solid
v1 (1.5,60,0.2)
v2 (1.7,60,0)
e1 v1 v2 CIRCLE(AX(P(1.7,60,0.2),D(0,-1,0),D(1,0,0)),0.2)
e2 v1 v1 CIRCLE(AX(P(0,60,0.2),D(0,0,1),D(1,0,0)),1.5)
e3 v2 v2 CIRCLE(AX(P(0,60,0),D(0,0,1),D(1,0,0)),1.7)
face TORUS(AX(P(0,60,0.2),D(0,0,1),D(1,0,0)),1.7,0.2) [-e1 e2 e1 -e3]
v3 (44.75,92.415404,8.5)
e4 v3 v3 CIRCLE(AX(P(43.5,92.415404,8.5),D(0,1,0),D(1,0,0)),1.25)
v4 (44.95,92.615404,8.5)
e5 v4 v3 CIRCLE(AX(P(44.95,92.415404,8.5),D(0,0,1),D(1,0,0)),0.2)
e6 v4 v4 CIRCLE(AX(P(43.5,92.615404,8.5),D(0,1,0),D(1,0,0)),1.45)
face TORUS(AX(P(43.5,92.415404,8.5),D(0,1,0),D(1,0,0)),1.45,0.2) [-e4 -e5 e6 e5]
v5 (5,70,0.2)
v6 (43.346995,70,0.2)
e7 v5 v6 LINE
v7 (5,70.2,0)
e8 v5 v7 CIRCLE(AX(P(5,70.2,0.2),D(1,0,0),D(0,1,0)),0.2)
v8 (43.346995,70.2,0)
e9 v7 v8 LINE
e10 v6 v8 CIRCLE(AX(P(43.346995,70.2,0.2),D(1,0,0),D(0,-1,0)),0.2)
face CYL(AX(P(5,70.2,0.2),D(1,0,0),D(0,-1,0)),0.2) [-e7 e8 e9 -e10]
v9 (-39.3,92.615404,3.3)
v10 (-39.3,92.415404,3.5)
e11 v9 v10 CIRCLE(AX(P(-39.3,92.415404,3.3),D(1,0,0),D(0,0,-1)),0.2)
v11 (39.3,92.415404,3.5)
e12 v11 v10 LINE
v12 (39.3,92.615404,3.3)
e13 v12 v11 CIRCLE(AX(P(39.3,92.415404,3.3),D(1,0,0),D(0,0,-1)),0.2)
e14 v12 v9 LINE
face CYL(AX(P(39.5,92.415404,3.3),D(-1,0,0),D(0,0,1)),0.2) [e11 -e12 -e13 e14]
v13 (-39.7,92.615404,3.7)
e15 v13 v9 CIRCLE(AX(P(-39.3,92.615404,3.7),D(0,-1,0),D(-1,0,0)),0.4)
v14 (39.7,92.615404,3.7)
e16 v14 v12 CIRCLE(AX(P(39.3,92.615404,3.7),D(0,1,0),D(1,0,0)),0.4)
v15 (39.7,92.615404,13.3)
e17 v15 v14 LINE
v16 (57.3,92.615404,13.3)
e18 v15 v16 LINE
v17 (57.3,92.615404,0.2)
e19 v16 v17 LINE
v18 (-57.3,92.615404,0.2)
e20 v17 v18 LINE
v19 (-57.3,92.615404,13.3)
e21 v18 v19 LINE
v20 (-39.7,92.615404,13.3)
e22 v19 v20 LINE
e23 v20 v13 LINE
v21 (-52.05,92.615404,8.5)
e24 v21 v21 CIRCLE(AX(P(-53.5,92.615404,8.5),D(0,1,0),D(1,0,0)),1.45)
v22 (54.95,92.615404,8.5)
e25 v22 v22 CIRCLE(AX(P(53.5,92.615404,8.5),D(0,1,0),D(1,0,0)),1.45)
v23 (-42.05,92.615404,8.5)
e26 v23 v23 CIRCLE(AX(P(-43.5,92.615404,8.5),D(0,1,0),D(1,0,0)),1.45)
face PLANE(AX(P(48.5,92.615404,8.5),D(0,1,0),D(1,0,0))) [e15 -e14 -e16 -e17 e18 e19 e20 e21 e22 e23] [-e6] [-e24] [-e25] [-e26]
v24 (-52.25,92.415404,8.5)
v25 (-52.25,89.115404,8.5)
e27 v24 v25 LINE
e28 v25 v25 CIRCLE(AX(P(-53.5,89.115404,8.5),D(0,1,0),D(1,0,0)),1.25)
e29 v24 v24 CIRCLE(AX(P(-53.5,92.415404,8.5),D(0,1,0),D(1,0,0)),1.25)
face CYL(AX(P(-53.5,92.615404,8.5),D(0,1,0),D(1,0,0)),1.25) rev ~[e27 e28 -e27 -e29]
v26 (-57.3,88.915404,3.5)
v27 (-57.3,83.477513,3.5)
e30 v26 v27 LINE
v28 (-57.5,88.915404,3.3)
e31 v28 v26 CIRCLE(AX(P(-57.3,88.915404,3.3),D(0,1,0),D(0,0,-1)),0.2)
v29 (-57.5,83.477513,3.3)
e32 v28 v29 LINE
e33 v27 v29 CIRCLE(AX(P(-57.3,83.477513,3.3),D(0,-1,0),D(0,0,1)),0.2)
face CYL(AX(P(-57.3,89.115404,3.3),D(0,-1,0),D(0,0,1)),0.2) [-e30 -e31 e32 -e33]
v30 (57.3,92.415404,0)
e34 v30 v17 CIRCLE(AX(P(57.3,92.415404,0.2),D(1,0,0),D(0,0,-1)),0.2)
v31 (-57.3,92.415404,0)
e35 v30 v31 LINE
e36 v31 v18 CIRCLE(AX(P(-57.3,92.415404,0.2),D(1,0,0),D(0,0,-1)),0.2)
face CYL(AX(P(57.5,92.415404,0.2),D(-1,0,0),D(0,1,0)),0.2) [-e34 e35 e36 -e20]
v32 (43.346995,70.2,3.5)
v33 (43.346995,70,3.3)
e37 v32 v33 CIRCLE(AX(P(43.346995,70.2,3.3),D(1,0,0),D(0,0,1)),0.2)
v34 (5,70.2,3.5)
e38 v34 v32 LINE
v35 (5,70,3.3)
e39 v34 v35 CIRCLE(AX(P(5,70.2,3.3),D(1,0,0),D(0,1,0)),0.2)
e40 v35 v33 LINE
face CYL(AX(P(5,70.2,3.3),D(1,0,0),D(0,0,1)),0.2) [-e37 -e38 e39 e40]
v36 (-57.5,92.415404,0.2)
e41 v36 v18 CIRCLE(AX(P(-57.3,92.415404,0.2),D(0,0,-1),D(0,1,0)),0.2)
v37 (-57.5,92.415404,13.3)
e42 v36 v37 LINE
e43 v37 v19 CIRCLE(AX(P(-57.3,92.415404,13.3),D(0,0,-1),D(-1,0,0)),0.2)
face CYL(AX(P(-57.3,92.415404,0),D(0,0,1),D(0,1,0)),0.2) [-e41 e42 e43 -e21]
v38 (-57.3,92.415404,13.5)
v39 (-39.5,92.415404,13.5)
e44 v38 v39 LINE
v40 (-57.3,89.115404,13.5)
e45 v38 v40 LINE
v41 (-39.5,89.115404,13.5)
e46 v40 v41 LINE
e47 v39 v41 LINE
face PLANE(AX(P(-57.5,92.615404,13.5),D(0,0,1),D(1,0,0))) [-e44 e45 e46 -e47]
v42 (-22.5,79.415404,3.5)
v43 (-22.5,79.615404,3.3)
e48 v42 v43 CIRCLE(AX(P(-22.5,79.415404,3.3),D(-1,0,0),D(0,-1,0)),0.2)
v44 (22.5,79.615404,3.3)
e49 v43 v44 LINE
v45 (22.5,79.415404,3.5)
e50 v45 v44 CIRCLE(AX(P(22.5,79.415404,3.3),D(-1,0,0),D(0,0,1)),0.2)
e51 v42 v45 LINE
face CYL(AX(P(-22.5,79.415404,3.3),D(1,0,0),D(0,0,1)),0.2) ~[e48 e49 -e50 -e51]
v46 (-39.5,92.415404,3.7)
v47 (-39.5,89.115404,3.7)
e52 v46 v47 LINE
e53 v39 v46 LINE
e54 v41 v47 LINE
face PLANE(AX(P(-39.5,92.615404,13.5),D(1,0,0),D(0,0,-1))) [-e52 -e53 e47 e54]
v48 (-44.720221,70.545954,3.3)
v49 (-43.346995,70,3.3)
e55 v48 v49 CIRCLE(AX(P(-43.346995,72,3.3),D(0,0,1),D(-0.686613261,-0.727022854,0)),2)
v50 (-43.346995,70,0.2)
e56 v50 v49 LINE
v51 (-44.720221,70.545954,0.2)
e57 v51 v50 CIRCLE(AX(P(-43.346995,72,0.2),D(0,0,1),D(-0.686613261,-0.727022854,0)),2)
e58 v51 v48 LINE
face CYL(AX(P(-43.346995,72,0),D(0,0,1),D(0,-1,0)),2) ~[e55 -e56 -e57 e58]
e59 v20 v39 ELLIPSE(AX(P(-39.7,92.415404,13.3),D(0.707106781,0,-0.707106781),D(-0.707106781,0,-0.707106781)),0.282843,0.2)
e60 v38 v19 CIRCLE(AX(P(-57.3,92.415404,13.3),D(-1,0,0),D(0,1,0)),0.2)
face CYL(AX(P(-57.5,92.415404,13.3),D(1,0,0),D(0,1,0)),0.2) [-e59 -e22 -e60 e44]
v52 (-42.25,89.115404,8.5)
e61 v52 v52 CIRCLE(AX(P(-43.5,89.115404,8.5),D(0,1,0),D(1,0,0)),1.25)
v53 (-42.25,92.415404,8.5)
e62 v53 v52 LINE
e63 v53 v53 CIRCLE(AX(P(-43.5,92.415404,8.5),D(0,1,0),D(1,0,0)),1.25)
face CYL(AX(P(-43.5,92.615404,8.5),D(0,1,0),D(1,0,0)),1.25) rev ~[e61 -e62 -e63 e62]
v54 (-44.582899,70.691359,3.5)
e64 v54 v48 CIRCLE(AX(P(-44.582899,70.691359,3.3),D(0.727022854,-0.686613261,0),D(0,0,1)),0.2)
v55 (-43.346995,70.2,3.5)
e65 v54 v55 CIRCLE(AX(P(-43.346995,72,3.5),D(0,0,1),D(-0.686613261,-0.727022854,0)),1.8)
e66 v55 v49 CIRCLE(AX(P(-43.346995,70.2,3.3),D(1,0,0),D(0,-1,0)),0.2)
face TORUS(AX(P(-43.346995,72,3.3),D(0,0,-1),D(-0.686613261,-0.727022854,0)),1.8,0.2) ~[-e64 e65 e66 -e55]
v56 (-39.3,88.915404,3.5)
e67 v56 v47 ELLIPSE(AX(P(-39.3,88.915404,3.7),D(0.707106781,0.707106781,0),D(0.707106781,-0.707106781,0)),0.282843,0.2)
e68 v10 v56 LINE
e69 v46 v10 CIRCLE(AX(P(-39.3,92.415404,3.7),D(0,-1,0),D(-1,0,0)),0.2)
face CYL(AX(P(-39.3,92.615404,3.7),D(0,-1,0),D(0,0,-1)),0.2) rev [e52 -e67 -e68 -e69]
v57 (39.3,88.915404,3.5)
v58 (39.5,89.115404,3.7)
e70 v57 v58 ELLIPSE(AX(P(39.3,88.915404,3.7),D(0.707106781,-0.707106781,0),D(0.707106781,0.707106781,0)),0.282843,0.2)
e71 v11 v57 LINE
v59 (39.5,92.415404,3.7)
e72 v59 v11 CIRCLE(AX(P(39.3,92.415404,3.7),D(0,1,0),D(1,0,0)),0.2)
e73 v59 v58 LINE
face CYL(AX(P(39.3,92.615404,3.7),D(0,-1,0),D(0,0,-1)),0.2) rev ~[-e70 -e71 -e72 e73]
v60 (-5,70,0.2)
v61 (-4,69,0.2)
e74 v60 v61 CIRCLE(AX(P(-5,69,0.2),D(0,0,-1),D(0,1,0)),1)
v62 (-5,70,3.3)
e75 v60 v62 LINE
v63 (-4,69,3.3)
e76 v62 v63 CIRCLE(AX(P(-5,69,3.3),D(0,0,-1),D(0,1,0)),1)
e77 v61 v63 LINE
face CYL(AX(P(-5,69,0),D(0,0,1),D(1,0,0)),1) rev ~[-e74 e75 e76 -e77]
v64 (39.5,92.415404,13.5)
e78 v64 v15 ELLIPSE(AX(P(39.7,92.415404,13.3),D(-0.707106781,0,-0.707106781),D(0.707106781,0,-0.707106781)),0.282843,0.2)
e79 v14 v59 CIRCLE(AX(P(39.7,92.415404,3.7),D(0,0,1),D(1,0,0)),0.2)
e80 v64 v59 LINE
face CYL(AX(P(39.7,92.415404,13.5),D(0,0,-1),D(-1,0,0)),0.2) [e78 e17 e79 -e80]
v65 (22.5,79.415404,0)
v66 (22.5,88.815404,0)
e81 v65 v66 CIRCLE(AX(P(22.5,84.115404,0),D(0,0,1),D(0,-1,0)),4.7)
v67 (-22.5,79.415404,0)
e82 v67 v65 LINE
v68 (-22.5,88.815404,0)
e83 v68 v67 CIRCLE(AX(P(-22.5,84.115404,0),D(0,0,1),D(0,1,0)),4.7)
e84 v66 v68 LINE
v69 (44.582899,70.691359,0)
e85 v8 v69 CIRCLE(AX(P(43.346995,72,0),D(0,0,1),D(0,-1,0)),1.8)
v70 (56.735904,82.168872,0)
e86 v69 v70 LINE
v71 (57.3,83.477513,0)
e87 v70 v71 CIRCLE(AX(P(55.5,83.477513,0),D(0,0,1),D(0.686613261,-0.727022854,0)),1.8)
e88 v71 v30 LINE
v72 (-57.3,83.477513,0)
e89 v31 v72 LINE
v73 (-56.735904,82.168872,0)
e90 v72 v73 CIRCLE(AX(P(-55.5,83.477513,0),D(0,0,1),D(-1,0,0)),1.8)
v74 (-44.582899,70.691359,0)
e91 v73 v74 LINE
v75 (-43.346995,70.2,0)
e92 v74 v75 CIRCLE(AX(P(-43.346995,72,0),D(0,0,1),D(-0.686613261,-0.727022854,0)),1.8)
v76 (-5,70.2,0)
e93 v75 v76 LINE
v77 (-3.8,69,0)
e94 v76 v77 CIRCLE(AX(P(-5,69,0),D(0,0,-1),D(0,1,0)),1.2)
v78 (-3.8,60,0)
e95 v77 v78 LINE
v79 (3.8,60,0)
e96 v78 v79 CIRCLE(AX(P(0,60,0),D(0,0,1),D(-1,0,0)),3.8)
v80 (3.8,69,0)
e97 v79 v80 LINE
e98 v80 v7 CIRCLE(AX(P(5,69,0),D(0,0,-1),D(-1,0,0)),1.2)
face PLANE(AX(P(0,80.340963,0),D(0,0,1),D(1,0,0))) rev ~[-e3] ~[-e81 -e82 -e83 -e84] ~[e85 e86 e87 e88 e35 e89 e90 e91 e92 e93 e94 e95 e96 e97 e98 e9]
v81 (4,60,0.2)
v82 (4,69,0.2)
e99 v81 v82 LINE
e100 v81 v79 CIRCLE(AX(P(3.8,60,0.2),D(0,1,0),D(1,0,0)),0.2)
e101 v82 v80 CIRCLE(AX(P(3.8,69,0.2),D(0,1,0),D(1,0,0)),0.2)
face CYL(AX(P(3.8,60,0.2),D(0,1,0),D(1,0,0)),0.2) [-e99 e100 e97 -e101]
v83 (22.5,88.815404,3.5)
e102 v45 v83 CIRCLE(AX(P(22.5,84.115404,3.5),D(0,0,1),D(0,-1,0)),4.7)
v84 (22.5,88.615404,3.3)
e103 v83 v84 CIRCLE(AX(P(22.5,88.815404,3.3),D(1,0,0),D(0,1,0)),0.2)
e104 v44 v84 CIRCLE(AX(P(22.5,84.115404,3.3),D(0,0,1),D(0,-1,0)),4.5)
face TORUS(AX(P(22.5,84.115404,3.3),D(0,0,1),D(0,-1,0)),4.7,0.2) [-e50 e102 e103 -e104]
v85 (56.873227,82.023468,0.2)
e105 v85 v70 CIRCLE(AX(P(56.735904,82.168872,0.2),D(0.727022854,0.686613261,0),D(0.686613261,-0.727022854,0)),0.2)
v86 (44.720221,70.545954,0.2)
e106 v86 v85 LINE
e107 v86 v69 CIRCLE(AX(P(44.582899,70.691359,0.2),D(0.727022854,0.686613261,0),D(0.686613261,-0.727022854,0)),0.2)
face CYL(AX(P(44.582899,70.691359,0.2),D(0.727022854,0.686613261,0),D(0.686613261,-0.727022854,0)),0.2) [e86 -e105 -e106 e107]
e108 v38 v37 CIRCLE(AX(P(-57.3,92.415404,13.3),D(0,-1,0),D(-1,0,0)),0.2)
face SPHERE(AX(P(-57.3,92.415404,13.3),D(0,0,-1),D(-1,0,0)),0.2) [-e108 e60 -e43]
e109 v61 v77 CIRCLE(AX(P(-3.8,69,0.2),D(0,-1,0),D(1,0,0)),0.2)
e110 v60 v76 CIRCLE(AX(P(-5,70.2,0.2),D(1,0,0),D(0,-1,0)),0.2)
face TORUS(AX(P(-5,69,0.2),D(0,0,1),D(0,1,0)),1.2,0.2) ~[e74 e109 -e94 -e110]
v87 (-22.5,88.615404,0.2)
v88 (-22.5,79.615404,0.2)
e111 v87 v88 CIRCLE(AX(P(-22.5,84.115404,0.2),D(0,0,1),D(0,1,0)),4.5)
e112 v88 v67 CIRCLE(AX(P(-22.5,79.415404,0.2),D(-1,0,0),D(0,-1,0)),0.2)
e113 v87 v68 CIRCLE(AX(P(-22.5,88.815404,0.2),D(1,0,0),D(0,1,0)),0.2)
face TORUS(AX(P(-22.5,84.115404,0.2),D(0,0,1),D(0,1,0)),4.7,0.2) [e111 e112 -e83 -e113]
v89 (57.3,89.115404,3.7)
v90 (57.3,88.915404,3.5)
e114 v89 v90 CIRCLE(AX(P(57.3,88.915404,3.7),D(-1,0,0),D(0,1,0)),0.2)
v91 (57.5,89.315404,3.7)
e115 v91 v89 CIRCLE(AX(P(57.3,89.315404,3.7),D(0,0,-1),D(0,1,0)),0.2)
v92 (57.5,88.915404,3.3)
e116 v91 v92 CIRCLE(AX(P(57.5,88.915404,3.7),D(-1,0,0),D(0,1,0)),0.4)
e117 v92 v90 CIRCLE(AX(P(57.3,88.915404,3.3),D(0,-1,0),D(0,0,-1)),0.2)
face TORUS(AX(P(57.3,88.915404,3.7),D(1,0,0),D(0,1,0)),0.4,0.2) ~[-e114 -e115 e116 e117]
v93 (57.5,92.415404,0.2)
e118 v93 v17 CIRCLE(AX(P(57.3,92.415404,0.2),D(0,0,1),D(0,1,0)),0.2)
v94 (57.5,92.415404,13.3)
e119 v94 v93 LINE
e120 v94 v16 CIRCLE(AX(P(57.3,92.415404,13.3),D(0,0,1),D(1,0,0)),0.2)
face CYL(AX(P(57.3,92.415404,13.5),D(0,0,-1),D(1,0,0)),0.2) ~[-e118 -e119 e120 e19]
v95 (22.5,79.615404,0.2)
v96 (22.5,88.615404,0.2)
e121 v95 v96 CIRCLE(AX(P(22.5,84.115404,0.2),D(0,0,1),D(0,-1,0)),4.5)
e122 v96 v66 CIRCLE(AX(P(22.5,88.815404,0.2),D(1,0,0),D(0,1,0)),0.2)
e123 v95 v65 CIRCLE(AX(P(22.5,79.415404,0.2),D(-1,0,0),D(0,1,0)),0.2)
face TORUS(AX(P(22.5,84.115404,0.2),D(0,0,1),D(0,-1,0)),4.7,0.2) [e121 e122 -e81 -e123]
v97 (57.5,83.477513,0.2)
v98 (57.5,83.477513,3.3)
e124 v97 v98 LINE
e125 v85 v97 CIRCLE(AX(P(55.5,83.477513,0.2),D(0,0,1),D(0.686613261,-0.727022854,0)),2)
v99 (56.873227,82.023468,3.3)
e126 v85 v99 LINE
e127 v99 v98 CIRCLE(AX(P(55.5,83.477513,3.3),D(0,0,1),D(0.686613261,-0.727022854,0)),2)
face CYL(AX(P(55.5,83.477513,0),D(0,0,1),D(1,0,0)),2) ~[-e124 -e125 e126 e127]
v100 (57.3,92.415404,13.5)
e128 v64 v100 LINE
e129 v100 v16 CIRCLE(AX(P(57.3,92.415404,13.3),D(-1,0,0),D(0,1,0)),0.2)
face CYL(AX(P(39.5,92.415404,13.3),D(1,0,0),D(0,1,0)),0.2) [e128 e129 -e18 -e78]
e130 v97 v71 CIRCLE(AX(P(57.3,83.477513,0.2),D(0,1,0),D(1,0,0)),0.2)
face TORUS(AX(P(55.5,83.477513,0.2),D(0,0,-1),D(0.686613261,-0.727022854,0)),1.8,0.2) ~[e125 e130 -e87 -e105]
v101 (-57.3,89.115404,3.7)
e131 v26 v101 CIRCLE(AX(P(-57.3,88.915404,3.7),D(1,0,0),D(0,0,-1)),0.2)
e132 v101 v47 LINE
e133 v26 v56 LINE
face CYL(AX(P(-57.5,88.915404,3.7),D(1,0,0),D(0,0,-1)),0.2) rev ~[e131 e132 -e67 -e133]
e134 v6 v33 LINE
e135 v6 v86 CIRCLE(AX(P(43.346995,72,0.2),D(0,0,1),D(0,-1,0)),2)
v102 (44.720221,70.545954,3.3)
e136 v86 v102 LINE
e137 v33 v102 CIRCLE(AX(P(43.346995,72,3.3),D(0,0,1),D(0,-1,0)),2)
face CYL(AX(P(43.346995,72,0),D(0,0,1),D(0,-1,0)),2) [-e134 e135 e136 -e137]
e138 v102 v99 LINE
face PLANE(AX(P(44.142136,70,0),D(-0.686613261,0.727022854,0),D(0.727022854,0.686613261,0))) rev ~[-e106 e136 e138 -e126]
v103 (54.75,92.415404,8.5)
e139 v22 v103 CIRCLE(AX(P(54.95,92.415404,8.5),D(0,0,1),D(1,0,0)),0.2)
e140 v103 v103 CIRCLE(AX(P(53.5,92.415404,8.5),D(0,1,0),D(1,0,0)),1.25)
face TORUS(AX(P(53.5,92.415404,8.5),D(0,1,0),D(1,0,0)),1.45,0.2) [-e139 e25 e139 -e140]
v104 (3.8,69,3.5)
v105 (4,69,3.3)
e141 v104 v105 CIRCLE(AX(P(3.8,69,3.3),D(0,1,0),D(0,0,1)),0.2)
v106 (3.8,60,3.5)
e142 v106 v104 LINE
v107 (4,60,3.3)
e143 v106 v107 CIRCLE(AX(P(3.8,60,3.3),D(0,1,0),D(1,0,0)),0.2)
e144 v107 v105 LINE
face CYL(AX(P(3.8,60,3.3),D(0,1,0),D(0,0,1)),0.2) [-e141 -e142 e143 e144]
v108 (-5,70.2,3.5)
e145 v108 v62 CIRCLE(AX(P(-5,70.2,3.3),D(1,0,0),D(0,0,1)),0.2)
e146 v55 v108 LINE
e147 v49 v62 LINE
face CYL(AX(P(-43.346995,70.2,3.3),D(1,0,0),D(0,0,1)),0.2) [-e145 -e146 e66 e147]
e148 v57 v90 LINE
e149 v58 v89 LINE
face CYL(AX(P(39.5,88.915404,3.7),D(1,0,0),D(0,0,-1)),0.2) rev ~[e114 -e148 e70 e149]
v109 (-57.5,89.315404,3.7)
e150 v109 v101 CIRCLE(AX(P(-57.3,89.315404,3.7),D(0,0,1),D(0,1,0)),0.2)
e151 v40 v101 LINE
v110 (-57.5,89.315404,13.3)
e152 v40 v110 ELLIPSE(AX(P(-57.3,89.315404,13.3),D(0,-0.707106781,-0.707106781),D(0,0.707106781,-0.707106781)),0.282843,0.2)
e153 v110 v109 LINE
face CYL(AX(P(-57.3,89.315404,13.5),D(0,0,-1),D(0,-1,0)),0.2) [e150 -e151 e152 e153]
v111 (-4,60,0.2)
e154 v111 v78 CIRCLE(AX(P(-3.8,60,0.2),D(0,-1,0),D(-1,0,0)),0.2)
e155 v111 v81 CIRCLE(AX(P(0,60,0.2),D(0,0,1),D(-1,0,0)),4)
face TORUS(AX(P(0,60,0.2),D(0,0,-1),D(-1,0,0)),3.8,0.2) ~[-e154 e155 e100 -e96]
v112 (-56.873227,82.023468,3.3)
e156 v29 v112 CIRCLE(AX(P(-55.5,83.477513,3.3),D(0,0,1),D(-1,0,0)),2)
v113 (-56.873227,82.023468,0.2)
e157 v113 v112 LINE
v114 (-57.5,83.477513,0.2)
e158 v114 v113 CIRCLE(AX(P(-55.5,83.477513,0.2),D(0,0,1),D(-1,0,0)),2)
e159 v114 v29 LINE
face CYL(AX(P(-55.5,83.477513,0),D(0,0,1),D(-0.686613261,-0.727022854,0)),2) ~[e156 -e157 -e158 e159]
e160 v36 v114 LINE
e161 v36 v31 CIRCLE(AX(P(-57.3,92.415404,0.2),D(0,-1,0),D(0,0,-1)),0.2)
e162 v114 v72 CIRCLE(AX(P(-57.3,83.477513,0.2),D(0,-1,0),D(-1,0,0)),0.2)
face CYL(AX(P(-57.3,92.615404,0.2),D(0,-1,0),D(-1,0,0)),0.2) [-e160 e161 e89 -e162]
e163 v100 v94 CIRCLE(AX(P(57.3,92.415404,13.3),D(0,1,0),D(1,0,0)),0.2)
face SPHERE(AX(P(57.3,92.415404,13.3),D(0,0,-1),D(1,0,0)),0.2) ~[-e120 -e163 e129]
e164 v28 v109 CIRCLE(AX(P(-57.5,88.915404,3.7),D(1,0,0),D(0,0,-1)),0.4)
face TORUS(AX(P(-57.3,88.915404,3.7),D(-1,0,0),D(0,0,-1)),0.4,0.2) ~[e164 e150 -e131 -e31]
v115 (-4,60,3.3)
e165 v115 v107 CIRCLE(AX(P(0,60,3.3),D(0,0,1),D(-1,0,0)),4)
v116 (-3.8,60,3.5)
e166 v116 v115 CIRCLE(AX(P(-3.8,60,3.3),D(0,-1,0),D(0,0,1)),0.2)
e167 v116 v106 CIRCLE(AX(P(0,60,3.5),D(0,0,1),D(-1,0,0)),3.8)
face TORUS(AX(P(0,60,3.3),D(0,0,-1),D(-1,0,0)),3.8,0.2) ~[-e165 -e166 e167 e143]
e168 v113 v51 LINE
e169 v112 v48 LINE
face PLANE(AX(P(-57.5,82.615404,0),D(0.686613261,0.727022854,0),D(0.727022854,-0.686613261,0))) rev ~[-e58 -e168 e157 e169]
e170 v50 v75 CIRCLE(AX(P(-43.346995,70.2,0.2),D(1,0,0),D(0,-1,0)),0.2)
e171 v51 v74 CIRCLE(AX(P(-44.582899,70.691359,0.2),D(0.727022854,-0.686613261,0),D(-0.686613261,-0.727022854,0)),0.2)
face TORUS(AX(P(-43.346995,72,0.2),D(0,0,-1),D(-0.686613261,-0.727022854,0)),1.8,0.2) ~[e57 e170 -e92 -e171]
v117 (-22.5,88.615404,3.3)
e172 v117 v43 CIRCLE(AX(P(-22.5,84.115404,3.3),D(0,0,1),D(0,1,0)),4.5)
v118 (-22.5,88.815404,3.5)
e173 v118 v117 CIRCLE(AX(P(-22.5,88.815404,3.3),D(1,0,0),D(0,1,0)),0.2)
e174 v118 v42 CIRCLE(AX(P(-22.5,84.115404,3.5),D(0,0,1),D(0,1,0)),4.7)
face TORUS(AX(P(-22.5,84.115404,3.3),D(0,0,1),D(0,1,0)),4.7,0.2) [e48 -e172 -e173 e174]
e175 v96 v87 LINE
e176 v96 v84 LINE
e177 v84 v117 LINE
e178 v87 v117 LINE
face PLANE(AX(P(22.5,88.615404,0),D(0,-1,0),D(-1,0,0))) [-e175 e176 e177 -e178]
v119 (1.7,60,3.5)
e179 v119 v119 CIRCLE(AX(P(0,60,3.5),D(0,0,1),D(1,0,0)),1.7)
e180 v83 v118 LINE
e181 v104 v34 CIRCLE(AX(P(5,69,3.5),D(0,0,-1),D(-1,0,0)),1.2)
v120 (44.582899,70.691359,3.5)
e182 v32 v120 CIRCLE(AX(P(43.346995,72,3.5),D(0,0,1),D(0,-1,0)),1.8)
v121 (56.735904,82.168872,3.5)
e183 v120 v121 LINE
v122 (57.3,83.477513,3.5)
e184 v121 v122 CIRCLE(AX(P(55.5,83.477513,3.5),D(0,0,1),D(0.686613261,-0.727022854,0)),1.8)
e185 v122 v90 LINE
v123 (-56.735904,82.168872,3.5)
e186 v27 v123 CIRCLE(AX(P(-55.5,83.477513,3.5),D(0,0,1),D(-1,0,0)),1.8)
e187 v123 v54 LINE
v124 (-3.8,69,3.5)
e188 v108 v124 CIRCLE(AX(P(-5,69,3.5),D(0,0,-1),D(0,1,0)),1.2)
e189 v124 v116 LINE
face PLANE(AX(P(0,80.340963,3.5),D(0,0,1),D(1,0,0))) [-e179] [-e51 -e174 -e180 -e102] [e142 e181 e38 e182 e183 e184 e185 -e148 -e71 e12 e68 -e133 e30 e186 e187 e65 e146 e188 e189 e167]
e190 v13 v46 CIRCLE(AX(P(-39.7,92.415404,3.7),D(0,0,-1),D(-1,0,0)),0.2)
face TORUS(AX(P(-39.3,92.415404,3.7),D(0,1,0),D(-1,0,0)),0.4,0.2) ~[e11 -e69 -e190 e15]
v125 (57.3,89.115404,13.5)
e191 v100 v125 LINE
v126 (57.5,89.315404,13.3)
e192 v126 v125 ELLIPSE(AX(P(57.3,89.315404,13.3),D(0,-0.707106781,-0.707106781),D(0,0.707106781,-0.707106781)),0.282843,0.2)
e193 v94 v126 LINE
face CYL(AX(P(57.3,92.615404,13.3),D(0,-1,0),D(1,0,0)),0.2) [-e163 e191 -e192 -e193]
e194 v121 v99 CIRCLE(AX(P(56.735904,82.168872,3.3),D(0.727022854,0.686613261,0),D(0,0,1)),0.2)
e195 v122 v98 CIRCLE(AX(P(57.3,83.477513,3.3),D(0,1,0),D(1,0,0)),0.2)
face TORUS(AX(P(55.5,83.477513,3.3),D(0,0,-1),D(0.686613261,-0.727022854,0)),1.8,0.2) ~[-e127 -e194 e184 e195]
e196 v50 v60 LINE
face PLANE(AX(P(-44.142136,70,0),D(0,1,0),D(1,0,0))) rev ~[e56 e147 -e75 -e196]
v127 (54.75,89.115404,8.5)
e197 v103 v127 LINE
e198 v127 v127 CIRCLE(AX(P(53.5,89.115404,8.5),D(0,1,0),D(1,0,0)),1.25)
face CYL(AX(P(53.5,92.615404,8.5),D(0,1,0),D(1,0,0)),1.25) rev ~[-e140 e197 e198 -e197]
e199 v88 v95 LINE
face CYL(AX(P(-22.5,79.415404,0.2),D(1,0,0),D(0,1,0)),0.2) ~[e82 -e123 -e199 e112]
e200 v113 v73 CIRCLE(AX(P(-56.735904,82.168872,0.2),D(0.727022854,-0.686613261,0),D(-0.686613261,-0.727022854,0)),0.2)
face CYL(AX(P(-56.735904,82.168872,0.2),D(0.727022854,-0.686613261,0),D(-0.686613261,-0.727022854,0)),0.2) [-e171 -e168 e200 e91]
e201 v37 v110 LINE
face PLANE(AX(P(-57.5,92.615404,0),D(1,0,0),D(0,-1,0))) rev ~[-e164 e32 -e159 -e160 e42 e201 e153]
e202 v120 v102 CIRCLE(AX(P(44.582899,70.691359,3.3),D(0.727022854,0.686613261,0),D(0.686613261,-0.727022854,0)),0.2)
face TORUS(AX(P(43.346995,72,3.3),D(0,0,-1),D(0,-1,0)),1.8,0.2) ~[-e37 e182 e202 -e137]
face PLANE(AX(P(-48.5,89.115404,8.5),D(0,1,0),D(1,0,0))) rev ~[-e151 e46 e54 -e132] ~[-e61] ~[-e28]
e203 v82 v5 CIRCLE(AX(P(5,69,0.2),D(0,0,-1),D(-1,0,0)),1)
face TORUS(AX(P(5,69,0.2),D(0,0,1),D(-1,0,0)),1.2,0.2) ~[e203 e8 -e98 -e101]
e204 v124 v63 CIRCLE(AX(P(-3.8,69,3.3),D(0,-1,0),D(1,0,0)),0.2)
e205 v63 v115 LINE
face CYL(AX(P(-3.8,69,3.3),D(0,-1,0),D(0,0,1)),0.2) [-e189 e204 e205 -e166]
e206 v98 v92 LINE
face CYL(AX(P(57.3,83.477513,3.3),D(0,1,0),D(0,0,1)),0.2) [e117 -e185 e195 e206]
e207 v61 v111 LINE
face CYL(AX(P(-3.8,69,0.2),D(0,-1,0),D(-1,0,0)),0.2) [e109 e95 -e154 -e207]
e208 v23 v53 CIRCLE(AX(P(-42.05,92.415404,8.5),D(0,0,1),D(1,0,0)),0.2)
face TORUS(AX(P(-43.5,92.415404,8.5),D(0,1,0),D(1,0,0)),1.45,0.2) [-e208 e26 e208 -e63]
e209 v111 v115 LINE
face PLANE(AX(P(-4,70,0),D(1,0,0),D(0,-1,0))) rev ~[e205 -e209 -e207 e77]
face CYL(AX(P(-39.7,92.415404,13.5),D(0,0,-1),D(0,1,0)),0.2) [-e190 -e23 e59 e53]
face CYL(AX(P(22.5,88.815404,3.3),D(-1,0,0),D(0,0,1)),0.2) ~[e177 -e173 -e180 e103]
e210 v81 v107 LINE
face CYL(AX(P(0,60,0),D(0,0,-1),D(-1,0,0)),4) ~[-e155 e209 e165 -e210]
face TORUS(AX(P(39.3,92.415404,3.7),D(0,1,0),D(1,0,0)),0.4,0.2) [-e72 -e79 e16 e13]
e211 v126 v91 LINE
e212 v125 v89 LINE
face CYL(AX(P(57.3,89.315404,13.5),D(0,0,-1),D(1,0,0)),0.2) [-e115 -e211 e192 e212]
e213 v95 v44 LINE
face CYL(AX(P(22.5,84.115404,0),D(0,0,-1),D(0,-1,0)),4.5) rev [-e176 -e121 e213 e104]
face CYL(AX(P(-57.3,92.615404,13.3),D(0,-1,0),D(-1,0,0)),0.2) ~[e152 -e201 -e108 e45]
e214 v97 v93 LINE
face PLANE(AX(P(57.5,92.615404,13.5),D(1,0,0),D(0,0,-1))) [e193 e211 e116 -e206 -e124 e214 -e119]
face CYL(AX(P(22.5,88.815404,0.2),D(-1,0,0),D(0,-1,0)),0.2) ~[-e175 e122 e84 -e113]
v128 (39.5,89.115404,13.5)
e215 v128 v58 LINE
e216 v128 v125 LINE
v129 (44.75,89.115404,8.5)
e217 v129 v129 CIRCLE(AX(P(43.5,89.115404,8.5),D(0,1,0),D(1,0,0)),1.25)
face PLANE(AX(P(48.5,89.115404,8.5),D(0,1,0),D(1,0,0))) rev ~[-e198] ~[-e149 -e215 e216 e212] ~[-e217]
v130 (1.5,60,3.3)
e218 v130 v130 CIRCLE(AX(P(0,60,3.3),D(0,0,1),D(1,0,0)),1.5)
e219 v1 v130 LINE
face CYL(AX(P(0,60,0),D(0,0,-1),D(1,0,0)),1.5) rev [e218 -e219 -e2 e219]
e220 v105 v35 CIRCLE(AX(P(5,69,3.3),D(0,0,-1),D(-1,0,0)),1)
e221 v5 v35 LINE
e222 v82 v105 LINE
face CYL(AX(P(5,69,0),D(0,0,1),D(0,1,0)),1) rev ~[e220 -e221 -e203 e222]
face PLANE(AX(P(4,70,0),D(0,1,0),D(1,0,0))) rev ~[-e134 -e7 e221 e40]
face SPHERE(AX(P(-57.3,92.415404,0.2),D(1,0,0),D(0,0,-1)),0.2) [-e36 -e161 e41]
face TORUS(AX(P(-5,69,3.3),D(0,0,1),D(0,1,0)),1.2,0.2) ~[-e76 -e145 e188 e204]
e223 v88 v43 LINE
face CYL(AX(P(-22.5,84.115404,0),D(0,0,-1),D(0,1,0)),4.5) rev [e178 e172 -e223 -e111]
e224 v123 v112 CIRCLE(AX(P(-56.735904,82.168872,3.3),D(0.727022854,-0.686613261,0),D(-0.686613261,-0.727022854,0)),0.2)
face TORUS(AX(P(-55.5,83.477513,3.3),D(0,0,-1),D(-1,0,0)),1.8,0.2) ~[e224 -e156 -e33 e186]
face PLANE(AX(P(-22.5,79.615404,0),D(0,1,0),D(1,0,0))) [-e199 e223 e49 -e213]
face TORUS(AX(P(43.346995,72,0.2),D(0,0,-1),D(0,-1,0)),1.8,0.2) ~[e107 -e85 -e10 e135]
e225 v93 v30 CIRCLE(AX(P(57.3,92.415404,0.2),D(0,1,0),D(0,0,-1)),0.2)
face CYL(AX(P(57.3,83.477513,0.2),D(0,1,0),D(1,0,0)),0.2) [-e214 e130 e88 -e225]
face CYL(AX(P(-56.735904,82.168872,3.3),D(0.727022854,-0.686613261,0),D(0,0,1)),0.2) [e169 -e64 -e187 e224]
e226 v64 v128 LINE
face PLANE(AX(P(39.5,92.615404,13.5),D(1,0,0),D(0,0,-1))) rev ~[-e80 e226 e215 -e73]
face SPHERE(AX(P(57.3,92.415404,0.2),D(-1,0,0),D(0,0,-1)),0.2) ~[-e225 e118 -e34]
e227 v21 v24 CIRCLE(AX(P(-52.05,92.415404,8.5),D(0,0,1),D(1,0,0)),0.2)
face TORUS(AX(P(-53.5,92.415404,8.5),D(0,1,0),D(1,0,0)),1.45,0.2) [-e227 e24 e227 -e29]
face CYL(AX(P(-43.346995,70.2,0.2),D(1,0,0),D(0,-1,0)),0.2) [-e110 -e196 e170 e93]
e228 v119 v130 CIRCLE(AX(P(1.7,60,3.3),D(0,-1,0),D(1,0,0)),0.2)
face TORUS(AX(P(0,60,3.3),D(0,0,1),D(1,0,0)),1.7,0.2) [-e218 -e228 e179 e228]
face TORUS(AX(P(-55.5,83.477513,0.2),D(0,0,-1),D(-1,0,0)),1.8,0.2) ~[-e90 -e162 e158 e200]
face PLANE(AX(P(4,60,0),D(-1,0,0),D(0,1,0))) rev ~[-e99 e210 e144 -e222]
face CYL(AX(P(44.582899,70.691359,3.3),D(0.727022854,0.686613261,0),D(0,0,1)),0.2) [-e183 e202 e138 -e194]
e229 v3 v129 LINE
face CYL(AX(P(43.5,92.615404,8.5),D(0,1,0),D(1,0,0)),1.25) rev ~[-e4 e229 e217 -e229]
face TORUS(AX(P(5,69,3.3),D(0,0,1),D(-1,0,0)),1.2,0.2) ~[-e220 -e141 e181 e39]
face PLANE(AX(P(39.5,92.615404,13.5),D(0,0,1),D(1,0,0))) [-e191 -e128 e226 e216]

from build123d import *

# Parameters (mm, degrees)
SKETCH5_R           = 1.5
BOSS_EXTRUDE1_DEPTH = 3.5
SKETCH6_W           = 18
SKETCH6_H           = 10
SKETCH6_R           = 1.25
BOSS_EXTRUDE2_DEPTH = 3.5
FILLET1_R           = 2
FILLET2_R           = 1
FILLET3_R           = 0.2


with BuildPart() as part:
    # Sketch5 → Boss-Extrude1 (new body)
    with BuildSketch(Plane.XY):
        with BuildLine():
            Line((57.5, 92.615403731), (-57.5, 92.615403731))
            Line((-57.5, 92.615403731), (-57.5, 82.615403731))
            Line((-57.5, 82.615403731), (-44.142135624, 70))
            Line((-44.142135624, 70), (-4, 70))
            Line((-4, 70), (-4, 60))
            ThreePointArc((-4, 60), (0, 56), (4, 60))
            Line((4, 60), (4, 70))
            Line((4, 70), (44.142135624, 70))
            Line((44.142135624, 70), (57.5, 82.615403731))
            Line((57.5, 82.615403731), (57.5, 92.615403731))
        make_face()
        with Locations((0, 60)):
            Circle(SKETCH5_R, mode=Mode.SUBTRACT)
        with BuildLine():
            Line((22.5, 88.615403731), (-22.5, 88.615403731))
            ThreePointArc((-22.5, 88.615403731), (-27, 84.115403731), (-22.5, 79.615403731))
            Line((-22.5, 79.615403731), (22.5, 79.615403731))
            ThreePointArc((22.5, 79.615403731), (27, 84.115403731), (22.5, 88.615403731))
        make_face(mode=Mode.SUBTRACT)
    extrude(amount=BOSS_EXTRUDE1_DEPTH)

    # Sketch6 → Boss-Extrude2 (add)
    with BuildSketch(Plane(origin=(0, 92.615403731, 0), x_dir=(1, 0, 0), z_dir=(0, 1, 0))):
        with Locations((48.5, -8.5)):
            Rectangle(SKETCH6_W, SKETCH6_H)
        with Locations((53.5, -8.5)):
            Circle(SKETCH6_R, mode=Mode.SUBTRACT)
        with Locations((43.5, -8.5)):
            Circle(SKETCH6_R, mode=Mode.SUBTRACT)
        with Locations((-48.5, -8.5)):
            Rectangle(SKETCH6_W, SKETCH6_H)
        with Locations((-43.5, -8.5)):
            Circle(SKETCH6_R, mode=Mode.SUBTRACT)
        with Locations((-53.5, -8.5)):
            Circle(SKETCH6_R, mode=Mode.SUBTRACT)
    extrude(amount=-BOSS_EXTRUDE2_DEPTH)

    # Fillet1
    fillet1_edges = [part.edges().sort_by_distance(p)[0] for p in [
        (57.5, 82.615403731, 1.75),
        (44.142135624, 70, 1.75),
        (-44.142135624, 70, 1.75),
        (-57.5, 82.615403731, 1.75),
    ]]
    fillet(fillet1_edges, radius=FILLET1_R)

    # Fillet2
    fillet2_edges = [part.edges().sort_by_distance(p)[0] for p in [
        (4, 70, 1.75),
        (-4, 70, 1.75),
    ]]
    fillet(fillet2_edges, radius=FILLET2_R)

    # Fillet3
    fillet3_edges = [part.edges().sort_by_distance(p)[0] for p in [
        (0, 92.615403731, 0),
        (24.173497357, 70, 0),
        (24.173497357, 70, 3.5),
        (-4, 64.5, 0),
        (-4, 64.5, 3.5),
        (4.292893219, 69.707106781, 0),
        (4.292893219, 69.707106781, 3.5),
        (-4.292893219, 69.707106781, 0),
        (-4.292893219, 69.707106781, 3.5),
        (4, 64.5, 0),
        (0, 56, 0),
        (-57.5, 88.046458597, 0),
        (-57.5, 92.615403731, 6.75),
        (57.5, 92.615403731, 6.75),
        (0, 56, 3.5),
        (4, 64.5, 3.5),
        (-27, 84.115403731, 0),
        (0, 79.615403731, 0),
        (27, 84.115403731, 0),
        (0, 88.615403731, 0),
        (-27, 84.115403731, 3.5),
        (0, 79.615403731, 3.5),
        (27, 84.115403731, 3.5),
        (0, 88.615403731, 3.5),
        (-1.5, 60, 0),
        (-1.5, 60, 3.5),
        (0, 92.615403731, 3.5),
        (48.5, 89.115403731, 3.5),
        (39.5, 90.865403731, 3.5),
        (57.5, 89.115403731, 8.5),
        (57.5, 90.865403731, 13.5),
        (39.5, 92.615403731, 8.5),
        (48.5, 92.615403731, 13.5),
        (52.25, 92.615403731, 8.5),
        (42.25, 92.615403731, 8.5),
        (-57.5, 86.296458597, 3.5),
        (-39.5, 90.865403731, 3.5),
        (-57.5, 89.115403731, 8.5),
        (-57.5, 90.865403731, 13.5),
        (-48.5, 89.115403731, 3.5),
        (-39.5, 92.615403731, 8.5),
        (-48.5, 92.615403731, 13.5),
        (-44.75, 92.615403731, 8.5),
        (-54.75, 92.615403731, 8.5),
        (-24.173497357, 70, 0),
        (-24.173497357, 70, 3.5),
        (57.5, 88.046458597, 0),
        (50.796723879, 76.284711024, 0),
        (-50.796723879, 76.284711024, 0),
        (57.336634564, 82.685823197, 0),
        (44.085881913, 70.141493689, 0),
        (-57.336634564, 82.685823197, 0),
        (-44.085881913, 70.141493689, 0),
        (-50.796723879, 76.284711024, 3.5),
        (50.796723879, 76.284711024, 3.5),
        (57.5, 86.296458597, 3.5),
        (57.336634564, 82.685823197, 3.5),
        (44.085881913, 70.141493689, 3.5),
        (-57.336634564, 82.685823197, 3.5),
        (-44.085881913, 70.141493689, 3.5),
    ]]
    fillet(fillet3_edges, radius=FILLET3_R)


solid = part.part
